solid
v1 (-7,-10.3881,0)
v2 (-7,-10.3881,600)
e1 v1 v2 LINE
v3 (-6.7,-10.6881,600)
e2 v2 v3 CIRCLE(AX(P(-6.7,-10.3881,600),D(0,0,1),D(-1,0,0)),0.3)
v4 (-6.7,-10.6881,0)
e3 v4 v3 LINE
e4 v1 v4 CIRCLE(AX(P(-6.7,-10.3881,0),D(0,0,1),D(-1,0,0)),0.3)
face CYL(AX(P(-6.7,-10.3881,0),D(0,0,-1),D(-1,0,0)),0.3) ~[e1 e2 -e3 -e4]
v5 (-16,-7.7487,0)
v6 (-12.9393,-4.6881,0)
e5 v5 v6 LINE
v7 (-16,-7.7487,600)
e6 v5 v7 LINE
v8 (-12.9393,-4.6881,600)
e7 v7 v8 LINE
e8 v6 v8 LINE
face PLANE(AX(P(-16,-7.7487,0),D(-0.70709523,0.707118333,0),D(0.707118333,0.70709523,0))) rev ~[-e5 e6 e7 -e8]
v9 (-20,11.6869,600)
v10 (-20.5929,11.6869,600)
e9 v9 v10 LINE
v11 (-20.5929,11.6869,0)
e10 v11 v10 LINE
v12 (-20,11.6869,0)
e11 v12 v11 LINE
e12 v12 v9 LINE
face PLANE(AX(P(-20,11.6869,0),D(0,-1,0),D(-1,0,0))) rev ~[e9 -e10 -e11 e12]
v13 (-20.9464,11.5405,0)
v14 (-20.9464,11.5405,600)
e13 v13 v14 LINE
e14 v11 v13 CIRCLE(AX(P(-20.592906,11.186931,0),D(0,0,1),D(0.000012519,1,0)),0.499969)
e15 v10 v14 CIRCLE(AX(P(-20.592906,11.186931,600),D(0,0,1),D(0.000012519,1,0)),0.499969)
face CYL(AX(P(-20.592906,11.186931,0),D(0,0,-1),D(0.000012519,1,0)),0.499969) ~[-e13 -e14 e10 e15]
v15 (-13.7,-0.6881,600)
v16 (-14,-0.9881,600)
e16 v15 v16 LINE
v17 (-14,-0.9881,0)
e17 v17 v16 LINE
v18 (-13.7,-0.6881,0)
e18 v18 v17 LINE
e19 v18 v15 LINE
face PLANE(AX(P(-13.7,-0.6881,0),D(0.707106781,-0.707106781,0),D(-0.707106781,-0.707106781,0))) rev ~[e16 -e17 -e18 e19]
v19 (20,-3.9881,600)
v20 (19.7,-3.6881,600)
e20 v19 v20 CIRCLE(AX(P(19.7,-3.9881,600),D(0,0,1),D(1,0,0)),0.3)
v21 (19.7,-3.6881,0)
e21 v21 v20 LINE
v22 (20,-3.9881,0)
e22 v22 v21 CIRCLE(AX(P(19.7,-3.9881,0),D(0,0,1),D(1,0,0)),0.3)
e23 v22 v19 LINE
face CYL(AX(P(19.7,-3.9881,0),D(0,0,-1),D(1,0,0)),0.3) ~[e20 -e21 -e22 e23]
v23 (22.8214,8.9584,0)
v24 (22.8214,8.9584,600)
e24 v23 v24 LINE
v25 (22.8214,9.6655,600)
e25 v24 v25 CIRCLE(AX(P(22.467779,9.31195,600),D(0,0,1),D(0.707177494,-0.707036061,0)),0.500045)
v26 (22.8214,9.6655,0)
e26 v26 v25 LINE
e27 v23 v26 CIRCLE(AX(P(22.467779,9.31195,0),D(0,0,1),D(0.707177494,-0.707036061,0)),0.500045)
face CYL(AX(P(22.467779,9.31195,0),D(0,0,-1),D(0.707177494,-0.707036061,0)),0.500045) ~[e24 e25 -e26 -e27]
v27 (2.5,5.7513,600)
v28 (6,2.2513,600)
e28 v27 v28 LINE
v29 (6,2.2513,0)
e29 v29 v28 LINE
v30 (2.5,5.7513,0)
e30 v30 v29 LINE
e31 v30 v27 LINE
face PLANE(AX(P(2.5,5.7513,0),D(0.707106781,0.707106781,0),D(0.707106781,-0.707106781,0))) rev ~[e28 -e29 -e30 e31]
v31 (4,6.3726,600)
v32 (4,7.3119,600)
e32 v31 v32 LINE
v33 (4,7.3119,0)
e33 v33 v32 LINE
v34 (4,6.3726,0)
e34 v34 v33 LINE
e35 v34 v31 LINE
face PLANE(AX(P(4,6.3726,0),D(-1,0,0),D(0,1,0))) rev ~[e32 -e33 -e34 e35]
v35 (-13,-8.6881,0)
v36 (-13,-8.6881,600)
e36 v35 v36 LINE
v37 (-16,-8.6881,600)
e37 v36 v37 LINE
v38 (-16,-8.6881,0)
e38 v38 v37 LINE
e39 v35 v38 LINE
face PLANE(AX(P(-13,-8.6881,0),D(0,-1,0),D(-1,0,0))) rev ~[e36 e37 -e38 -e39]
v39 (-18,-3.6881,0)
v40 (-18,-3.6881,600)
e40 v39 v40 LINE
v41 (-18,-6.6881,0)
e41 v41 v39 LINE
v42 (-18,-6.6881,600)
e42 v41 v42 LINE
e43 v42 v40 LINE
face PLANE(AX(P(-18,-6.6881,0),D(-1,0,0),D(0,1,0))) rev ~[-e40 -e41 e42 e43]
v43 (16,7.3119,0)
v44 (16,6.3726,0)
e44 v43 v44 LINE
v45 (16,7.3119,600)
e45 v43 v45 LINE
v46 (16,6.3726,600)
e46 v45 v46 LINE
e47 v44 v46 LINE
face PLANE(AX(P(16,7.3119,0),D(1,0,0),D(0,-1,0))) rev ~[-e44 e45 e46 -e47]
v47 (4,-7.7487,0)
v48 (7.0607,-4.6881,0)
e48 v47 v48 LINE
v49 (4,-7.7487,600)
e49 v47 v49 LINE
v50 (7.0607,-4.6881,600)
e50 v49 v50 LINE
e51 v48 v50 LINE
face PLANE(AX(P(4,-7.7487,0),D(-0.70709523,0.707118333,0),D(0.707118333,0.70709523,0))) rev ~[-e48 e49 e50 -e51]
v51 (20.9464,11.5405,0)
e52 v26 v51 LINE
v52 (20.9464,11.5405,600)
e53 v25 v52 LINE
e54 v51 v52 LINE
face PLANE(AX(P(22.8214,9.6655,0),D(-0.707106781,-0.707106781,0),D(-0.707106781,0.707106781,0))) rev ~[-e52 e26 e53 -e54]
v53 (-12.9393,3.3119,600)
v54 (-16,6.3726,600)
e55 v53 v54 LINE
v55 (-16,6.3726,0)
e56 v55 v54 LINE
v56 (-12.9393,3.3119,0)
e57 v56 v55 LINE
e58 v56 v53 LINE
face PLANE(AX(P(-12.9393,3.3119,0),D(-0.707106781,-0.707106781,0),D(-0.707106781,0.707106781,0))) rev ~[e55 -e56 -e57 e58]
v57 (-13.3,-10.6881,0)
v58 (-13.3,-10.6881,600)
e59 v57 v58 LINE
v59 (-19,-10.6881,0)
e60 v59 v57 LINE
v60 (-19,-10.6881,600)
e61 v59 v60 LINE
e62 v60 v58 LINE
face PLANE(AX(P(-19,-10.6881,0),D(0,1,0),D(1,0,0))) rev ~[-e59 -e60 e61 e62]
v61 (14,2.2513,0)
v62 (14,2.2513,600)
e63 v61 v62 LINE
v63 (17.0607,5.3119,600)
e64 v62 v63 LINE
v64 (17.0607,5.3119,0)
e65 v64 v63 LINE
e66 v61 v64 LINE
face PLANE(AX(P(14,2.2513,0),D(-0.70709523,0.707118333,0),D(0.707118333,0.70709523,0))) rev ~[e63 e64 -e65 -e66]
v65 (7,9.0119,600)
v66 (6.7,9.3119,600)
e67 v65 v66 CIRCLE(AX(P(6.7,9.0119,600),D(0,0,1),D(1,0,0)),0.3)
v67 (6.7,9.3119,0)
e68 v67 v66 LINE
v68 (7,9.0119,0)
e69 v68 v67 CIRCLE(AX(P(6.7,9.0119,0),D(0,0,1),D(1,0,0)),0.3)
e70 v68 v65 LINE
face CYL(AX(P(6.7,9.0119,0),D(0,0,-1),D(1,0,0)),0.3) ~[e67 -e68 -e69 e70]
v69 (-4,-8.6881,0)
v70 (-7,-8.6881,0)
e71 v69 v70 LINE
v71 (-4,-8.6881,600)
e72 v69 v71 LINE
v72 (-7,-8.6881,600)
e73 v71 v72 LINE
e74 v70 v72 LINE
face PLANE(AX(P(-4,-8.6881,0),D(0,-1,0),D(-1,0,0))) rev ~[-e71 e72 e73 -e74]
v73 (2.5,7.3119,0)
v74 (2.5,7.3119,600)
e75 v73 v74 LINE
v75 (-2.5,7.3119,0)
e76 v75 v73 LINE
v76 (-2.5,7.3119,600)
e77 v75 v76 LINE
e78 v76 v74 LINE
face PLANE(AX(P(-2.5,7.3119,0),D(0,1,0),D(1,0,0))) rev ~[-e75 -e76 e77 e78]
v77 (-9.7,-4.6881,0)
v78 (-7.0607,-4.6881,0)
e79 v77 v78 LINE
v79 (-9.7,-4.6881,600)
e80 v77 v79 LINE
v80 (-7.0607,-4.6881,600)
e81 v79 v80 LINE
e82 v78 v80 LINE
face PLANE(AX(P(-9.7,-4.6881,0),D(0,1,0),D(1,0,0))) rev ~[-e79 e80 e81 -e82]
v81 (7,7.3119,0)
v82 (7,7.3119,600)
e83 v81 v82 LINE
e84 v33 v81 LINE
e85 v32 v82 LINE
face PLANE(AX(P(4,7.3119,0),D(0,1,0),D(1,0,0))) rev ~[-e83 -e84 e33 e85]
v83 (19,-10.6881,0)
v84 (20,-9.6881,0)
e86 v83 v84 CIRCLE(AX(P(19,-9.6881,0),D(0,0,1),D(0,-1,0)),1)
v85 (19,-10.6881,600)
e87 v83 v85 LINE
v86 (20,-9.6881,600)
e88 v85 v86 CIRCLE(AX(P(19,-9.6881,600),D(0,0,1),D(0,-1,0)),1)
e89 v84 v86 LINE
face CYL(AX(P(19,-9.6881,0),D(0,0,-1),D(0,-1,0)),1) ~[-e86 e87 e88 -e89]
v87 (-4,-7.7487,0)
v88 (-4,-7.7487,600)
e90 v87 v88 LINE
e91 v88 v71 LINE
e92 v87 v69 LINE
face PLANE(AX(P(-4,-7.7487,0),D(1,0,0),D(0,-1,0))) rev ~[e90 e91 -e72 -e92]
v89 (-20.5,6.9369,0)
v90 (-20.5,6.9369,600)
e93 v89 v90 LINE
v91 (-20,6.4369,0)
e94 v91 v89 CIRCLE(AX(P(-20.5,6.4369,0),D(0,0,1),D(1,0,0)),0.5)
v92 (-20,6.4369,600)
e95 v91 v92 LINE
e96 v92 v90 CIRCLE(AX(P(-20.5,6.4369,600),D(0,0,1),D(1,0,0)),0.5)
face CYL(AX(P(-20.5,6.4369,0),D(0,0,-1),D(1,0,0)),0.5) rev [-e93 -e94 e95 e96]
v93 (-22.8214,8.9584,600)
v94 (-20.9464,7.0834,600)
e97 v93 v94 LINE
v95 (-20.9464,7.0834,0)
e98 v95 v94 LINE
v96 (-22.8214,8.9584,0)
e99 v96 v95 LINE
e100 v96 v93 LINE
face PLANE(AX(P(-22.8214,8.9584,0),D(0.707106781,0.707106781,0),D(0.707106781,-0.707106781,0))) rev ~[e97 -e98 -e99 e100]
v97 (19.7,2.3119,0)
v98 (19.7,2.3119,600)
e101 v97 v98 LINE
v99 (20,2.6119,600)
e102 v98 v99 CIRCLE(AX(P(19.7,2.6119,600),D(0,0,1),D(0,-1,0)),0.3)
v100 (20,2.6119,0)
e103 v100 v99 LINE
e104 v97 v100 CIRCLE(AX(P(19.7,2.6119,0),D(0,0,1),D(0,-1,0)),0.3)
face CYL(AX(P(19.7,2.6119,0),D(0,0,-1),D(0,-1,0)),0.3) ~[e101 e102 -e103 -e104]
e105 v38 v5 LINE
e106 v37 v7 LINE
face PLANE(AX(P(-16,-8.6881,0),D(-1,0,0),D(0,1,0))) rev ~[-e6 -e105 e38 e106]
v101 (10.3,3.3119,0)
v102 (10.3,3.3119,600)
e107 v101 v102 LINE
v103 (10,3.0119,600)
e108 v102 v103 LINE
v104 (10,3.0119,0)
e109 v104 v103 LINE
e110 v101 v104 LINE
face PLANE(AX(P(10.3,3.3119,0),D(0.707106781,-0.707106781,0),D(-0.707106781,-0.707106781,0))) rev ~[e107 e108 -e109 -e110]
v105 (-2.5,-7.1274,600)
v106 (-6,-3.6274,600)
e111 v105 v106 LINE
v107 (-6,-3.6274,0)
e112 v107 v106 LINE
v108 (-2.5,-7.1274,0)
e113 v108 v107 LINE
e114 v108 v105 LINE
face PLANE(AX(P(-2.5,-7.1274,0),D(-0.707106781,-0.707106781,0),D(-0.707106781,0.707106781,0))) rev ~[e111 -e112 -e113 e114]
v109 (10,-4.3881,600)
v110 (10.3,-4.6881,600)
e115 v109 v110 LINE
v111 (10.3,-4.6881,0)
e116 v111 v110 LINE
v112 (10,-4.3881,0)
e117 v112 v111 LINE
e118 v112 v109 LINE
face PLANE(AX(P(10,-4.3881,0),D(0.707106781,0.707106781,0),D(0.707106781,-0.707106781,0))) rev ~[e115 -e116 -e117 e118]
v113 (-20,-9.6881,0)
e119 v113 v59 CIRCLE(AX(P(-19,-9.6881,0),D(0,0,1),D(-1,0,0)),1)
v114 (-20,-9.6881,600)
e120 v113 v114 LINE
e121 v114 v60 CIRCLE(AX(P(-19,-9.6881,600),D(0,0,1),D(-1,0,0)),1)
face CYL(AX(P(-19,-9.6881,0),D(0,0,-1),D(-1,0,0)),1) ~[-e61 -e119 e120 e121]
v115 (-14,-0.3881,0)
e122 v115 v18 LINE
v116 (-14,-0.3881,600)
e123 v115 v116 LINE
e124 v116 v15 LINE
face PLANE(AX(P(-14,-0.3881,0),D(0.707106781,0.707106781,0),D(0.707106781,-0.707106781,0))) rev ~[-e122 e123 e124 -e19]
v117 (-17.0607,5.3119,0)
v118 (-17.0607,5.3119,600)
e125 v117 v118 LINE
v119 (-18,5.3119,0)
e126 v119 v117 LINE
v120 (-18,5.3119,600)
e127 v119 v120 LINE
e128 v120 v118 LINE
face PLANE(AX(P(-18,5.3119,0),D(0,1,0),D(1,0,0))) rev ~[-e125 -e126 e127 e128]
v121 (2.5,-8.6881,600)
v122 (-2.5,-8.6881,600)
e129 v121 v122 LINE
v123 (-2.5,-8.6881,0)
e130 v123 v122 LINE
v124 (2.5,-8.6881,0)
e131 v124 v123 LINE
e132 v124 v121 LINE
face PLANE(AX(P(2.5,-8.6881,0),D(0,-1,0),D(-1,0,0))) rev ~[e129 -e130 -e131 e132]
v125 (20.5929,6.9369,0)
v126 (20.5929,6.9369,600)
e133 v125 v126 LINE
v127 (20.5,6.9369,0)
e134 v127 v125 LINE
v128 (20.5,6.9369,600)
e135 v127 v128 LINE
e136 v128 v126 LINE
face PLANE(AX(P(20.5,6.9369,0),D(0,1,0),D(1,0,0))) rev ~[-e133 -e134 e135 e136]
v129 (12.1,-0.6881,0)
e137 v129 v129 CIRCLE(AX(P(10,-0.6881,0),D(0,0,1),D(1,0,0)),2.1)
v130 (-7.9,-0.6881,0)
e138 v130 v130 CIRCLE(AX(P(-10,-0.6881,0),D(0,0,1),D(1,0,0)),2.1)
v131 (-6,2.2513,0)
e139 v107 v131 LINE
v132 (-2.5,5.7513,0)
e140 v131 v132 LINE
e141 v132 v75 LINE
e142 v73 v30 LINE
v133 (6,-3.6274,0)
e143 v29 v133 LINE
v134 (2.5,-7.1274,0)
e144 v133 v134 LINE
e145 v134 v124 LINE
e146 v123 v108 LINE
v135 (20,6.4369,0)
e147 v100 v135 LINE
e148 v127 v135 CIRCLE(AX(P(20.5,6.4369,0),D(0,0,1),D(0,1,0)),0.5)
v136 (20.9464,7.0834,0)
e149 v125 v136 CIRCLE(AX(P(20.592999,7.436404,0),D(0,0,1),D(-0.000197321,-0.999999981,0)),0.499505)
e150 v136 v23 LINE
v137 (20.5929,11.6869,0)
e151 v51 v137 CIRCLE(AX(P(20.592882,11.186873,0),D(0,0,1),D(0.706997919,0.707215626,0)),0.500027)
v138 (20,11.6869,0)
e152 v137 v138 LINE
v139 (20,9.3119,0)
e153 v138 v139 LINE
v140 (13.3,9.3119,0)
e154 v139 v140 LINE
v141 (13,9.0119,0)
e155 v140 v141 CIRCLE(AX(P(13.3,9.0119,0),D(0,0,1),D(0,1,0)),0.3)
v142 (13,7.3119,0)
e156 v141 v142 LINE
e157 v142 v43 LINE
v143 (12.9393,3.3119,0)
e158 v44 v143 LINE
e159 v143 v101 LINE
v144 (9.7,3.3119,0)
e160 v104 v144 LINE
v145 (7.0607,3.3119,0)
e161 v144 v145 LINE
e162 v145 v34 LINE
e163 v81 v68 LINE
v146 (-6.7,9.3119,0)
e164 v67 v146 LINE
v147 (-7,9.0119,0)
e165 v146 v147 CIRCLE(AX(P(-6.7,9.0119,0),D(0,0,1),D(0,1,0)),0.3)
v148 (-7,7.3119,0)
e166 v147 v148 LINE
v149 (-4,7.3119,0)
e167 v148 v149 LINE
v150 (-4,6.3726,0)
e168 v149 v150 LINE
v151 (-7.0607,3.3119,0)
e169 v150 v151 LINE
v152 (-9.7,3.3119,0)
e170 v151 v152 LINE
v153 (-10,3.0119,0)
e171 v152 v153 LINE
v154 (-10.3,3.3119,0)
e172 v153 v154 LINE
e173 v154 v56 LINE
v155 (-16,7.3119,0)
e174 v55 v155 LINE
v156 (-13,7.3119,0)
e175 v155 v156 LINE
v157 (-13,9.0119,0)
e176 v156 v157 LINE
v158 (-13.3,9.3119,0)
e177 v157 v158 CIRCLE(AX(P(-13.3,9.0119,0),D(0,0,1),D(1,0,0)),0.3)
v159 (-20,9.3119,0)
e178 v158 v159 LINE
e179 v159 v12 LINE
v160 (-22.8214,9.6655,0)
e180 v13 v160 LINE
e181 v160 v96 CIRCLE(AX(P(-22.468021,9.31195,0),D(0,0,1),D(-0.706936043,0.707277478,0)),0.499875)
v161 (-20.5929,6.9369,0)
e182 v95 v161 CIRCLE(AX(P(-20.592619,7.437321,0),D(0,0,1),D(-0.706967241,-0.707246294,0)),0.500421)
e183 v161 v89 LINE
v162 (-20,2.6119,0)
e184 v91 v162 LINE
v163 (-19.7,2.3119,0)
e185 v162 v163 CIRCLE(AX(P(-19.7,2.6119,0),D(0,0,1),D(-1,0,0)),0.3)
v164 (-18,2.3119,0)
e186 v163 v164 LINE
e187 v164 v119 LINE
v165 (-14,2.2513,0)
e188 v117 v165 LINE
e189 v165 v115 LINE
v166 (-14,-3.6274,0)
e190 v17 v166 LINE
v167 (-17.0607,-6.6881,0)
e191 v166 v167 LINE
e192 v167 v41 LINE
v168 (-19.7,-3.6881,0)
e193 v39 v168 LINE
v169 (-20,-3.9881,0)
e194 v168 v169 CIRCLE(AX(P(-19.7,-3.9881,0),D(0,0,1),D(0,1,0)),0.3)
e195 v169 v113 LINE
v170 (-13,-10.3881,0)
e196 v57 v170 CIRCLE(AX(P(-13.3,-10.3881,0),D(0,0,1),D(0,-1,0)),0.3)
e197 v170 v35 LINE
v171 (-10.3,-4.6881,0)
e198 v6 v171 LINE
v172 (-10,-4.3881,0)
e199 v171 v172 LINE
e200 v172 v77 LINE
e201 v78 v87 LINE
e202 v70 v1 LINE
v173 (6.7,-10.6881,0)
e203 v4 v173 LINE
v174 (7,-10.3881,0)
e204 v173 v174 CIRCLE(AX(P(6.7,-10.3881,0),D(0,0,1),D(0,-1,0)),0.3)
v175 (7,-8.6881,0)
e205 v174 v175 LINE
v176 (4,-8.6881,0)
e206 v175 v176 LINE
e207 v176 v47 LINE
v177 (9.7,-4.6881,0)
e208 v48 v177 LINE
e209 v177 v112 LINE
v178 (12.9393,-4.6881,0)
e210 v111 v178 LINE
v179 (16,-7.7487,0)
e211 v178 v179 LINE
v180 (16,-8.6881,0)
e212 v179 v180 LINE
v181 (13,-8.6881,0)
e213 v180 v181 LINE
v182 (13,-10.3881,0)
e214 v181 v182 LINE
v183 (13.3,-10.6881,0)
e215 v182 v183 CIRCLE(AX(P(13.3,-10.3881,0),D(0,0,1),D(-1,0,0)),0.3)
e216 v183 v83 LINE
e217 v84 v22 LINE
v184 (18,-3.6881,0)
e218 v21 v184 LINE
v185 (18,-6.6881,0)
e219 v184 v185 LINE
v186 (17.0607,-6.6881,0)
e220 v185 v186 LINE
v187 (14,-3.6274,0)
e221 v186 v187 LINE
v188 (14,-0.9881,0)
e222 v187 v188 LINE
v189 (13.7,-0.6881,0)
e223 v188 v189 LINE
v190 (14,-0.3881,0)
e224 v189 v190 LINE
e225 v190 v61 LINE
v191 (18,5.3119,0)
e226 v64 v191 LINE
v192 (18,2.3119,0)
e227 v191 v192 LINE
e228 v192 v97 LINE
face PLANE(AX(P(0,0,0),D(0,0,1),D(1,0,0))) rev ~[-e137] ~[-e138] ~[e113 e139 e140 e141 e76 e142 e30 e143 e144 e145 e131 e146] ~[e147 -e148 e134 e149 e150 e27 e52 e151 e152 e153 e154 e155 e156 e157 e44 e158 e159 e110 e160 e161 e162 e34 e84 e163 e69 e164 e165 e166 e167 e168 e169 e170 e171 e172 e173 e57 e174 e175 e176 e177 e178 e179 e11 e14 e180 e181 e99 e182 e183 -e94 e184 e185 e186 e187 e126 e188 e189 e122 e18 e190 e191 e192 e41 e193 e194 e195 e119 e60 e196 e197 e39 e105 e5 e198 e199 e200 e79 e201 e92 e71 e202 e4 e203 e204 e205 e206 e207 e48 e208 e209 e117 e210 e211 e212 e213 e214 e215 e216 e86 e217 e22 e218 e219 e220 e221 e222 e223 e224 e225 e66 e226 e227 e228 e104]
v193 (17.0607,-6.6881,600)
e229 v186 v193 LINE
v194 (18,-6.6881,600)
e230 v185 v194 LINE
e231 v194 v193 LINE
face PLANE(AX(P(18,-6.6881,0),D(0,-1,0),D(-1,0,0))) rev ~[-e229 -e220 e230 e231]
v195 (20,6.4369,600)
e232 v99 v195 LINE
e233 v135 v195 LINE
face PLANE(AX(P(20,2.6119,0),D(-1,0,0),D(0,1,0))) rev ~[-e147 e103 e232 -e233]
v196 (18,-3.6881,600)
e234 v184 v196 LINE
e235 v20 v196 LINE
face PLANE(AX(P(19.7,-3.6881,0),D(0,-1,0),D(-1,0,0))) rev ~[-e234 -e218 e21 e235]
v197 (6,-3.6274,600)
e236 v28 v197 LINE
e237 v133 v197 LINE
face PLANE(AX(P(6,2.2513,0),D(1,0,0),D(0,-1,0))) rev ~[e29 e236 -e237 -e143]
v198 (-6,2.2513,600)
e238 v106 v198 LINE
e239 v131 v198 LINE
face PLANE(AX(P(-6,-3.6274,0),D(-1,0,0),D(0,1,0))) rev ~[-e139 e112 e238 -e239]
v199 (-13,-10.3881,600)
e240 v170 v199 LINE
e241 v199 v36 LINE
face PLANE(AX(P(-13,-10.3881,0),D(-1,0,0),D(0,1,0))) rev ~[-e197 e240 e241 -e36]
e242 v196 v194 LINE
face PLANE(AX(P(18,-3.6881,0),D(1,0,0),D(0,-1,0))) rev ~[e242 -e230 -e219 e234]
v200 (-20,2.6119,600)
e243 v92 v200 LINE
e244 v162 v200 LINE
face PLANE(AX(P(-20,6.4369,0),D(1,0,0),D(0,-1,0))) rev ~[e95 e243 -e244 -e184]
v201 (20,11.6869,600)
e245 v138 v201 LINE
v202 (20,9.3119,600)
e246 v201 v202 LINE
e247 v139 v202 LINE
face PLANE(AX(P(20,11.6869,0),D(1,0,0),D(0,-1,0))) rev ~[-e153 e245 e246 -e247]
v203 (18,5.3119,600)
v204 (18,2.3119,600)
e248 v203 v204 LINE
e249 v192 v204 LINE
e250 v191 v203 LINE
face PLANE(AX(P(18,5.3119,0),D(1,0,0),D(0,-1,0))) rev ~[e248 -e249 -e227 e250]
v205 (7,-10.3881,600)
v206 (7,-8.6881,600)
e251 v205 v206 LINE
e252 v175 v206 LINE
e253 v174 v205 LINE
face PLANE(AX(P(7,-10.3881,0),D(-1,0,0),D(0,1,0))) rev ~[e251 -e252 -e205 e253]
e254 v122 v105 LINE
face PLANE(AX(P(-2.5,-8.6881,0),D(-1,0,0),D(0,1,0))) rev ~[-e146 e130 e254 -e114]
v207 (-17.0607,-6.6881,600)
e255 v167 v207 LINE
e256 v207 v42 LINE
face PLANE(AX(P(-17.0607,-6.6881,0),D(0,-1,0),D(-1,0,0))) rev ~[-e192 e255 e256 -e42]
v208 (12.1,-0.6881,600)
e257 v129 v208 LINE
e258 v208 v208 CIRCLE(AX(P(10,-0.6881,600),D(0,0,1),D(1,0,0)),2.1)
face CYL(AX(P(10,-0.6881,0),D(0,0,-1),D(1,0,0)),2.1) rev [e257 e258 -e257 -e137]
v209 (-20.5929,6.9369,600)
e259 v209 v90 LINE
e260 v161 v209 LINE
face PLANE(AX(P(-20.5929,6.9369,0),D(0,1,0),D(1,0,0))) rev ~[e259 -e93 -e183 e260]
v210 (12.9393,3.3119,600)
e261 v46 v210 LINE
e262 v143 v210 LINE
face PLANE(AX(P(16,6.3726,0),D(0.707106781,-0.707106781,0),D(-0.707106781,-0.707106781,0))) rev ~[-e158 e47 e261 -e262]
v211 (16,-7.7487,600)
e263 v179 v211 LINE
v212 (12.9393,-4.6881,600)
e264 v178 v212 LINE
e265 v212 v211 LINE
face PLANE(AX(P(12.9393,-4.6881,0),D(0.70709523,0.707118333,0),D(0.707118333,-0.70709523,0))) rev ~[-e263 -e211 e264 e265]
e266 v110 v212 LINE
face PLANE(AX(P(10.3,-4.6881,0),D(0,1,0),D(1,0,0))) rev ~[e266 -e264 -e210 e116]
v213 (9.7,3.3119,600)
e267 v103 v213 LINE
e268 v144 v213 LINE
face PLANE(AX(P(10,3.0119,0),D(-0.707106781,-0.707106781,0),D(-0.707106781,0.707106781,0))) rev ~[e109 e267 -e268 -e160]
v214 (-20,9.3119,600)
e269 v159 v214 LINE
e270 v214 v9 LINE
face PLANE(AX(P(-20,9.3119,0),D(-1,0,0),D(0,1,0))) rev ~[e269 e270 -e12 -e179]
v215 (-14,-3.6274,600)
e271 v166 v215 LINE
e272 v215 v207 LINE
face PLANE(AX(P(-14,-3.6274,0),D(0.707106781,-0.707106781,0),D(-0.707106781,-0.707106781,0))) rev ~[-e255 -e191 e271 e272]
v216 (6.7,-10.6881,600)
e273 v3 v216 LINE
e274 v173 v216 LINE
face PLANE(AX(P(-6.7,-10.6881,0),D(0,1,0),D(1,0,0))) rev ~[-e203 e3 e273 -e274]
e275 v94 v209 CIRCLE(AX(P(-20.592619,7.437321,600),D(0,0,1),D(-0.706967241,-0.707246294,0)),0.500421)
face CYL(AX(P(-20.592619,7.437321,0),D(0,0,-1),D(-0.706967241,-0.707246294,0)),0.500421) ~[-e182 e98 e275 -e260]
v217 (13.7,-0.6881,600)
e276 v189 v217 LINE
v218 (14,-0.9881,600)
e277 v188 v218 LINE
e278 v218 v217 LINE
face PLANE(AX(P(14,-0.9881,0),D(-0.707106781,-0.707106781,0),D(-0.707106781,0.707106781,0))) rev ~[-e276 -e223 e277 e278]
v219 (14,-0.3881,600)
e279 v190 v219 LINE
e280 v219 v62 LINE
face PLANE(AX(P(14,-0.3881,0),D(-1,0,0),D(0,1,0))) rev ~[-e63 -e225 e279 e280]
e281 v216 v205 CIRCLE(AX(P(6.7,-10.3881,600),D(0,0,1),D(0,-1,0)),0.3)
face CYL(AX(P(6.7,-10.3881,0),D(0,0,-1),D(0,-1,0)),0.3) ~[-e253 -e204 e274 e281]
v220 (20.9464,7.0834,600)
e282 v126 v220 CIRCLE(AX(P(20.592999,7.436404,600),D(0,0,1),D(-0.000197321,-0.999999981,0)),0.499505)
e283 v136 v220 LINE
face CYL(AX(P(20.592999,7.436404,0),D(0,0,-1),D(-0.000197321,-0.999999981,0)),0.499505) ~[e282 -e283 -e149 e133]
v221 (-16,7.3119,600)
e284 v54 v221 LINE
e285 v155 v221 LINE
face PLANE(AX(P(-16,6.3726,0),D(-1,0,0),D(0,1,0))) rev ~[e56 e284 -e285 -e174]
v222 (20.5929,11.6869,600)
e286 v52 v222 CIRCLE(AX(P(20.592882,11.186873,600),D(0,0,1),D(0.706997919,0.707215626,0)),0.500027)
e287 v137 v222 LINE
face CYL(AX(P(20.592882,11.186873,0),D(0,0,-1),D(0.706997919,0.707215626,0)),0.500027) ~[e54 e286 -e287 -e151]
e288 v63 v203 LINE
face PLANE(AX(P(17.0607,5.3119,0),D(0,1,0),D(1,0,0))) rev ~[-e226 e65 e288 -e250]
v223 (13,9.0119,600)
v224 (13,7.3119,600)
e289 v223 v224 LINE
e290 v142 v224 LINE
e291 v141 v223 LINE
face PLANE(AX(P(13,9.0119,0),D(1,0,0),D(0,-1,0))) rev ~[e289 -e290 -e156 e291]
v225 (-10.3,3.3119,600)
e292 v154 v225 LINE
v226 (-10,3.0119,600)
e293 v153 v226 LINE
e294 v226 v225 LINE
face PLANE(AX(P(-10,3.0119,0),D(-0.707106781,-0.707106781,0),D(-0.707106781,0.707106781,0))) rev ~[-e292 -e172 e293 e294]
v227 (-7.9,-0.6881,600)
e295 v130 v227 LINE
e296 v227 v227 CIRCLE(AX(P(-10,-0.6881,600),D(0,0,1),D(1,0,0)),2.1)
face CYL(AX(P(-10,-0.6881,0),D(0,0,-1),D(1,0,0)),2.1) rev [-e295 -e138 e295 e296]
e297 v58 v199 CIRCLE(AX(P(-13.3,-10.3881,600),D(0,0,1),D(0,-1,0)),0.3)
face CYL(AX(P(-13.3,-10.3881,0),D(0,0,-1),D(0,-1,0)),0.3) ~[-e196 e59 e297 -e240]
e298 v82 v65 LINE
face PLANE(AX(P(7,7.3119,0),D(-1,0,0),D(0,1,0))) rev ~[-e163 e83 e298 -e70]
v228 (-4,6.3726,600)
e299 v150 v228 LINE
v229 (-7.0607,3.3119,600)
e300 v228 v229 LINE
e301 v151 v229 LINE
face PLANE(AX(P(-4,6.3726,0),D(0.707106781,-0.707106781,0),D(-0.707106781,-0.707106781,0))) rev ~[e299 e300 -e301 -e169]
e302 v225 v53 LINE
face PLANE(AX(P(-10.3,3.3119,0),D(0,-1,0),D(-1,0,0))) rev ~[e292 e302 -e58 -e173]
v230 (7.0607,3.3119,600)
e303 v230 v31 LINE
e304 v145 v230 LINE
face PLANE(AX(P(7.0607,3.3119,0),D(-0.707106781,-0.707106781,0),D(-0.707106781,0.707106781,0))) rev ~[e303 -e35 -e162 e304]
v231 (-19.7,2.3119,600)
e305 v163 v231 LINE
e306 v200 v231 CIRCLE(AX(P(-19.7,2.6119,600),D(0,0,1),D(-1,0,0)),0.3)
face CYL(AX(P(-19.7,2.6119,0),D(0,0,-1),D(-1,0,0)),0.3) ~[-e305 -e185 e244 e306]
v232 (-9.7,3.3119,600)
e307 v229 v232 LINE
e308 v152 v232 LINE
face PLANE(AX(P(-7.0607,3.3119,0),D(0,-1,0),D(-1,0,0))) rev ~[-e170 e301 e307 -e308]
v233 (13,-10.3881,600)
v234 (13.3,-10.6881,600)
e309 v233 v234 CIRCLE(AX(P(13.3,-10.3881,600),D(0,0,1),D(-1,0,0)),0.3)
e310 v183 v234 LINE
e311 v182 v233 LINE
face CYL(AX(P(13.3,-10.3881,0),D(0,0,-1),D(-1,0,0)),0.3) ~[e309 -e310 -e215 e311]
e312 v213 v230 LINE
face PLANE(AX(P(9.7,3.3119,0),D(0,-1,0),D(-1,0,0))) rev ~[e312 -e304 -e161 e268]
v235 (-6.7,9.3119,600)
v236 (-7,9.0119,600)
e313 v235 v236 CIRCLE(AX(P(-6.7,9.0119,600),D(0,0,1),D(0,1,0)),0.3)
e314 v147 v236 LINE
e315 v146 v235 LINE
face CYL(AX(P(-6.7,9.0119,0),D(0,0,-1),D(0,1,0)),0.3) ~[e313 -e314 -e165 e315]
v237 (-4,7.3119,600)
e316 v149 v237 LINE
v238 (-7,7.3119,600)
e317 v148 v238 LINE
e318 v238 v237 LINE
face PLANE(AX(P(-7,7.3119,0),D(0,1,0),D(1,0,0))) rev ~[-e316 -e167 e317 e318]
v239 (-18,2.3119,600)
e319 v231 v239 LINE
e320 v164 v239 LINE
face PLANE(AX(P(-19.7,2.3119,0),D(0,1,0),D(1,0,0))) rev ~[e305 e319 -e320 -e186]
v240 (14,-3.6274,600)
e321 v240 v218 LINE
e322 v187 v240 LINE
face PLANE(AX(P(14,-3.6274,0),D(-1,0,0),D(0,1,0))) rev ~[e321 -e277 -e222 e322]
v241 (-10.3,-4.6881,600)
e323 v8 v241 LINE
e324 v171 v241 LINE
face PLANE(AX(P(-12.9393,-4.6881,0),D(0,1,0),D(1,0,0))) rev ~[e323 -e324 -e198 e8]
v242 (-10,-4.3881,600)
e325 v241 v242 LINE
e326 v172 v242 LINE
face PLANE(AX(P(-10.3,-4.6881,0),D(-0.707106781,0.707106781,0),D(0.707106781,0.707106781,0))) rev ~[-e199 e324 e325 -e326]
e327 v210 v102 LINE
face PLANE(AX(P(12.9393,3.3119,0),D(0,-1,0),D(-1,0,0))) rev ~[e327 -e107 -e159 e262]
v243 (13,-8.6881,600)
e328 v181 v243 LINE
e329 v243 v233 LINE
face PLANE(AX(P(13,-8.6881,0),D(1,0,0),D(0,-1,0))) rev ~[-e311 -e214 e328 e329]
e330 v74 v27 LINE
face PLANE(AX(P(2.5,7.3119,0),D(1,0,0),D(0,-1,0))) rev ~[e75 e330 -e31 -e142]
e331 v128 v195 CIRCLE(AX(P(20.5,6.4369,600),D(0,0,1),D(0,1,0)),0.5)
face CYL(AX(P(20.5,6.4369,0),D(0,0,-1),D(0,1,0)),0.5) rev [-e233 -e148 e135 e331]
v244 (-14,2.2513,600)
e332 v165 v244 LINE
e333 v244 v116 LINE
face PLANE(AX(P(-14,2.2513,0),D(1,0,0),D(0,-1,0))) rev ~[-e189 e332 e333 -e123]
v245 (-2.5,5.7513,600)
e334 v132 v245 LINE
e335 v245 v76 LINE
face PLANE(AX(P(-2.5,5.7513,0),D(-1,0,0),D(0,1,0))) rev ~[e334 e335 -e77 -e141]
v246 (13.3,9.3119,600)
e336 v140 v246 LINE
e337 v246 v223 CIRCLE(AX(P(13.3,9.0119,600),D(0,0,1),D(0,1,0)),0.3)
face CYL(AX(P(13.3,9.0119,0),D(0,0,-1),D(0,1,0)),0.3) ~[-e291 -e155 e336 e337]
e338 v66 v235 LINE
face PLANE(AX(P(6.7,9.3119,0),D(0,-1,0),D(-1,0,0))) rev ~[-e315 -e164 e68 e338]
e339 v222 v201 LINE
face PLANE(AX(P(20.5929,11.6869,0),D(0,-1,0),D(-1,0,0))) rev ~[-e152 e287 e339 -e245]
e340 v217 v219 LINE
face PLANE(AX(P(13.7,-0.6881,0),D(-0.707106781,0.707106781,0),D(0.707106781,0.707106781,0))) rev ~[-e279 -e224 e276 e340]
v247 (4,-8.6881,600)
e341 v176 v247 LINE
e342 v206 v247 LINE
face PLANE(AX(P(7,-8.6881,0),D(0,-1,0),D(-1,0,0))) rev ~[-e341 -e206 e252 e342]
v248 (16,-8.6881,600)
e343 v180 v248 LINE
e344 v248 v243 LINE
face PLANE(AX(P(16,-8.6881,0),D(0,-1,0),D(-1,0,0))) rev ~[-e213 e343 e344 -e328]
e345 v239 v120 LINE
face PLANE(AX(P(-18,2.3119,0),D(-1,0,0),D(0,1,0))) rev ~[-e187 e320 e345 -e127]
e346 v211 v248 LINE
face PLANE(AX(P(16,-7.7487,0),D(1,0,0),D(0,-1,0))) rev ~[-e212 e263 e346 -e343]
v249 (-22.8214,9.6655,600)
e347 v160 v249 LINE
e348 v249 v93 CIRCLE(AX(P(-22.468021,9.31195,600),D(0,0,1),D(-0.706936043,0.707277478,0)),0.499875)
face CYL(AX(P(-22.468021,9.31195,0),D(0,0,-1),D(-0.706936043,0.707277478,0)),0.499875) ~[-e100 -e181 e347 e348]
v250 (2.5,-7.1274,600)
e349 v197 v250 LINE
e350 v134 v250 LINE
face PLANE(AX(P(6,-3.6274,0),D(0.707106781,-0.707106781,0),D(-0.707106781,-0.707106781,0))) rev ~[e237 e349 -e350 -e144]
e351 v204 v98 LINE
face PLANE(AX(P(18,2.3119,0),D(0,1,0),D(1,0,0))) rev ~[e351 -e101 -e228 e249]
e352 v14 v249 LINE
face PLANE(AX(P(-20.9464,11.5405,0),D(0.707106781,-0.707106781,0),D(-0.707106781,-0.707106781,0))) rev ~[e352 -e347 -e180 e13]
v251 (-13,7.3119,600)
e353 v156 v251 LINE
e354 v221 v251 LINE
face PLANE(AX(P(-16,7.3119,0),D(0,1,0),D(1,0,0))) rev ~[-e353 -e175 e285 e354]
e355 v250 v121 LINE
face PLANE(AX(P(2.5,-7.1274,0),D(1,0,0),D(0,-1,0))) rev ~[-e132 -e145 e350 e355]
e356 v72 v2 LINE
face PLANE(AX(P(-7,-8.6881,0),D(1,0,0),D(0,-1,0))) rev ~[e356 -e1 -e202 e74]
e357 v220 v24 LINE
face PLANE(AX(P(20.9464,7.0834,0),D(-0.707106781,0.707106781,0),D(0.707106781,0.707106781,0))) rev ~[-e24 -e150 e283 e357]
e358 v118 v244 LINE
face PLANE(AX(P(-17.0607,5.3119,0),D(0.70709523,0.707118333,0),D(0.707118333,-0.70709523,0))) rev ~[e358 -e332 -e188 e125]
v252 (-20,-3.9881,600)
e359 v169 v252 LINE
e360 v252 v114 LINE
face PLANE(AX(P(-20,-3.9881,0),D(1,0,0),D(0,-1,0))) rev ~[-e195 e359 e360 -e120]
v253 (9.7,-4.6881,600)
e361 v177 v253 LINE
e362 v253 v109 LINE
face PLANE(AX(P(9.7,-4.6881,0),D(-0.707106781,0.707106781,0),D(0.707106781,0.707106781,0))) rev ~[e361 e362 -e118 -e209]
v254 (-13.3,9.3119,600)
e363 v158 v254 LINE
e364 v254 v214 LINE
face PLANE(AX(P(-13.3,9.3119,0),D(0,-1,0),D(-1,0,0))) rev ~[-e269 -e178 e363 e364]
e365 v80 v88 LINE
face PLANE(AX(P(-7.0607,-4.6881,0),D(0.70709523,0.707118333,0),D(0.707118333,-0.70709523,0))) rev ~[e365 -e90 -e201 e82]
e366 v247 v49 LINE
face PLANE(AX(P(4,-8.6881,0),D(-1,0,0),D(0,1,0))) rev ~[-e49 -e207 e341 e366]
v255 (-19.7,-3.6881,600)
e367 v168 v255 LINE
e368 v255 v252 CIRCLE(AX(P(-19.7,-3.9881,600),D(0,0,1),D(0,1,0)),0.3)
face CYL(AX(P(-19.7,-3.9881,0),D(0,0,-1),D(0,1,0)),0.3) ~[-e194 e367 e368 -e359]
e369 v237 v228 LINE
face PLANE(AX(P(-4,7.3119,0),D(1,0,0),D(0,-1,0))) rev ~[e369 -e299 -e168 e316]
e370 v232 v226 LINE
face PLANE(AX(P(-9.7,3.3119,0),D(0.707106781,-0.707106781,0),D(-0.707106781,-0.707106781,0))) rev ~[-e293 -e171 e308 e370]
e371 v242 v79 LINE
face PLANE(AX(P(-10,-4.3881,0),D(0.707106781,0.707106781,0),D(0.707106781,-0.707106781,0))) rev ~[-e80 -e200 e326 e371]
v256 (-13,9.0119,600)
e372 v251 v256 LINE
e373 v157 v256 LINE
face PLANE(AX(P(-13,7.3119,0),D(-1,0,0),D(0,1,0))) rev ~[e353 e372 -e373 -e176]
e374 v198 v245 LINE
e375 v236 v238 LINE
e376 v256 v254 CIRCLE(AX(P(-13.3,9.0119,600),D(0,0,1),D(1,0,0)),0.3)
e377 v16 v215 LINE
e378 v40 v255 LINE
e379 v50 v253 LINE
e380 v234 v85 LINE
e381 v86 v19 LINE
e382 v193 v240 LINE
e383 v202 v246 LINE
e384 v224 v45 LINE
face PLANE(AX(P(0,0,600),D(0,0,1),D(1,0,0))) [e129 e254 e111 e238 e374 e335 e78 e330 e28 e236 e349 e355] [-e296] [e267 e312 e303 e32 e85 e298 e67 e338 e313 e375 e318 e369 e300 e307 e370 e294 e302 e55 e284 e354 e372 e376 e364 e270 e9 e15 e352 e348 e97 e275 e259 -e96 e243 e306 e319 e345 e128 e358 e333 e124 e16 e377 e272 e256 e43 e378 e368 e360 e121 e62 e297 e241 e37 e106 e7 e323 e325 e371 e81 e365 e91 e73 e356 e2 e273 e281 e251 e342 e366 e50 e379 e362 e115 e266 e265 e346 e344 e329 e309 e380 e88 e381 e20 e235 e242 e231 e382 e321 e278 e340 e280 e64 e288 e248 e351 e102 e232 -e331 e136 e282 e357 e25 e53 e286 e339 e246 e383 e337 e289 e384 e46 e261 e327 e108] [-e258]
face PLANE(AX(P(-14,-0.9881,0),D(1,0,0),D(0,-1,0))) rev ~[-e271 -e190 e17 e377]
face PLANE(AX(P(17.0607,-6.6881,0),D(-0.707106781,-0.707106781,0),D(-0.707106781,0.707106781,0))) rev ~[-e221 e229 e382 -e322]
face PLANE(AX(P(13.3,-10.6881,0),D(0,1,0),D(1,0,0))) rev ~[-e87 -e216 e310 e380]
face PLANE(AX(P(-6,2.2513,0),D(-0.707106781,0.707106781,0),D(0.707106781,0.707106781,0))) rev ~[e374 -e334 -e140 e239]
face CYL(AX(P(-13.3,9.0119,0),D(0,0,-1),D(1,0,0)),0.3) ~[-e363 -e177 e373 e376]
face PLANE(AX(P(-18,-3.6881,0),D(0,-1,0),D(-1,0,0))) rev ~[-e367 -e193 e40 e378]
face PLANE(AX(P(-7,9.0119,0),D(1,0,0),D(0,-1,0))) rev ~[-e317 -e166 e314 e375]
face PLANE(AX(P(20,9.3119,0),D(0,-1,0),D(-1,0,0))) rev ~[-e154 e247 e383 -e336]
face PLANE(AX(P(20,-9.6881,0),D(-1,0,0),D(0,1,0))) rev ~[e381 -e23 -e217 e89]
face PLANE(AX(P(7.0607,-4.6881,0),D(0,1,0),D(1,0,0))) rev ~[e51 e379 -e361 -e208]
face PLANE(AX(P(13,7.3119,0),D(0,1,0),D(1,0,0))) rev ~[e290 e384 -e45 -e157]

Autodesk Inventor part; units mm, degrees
ref_plane "YZ Plane" through (0, 0, 0) normal (1, 0, 0) x (0, 1, 0)
ref_plane "XZ Plane" through (0, 0, 0) normal (0, 1, 0) x (-1, 0, 0)
ref_plane "XY Plane" through (0, 0, 0) normal (0, 0, 1) x (1, 0, 0)
sketch "Sketch1" plane through (0, 0, 0) normal (0, 0, 1) x (1, 0, 0)
  line L0 (-2.5, 7.3119) -> (2.5, 7.3119) projected
  line L1 (2.5, 7.3119) -> (2.5, 5.7513) projected
  line L2 (2.5, 5.7513) -> (6, 2.2513) projected
  line L3 (6, 2.2513) -> (6, -3.6274) projected
  line L4 (6, -3.6274) -> (2.5, -7.1274) projected
  line L5 (2.5, -7.1274) -> (2.5, -8.6881) projected
  line L6 (2.5, -8.6881) -> (-2.5, -8.6881) projected
  line L7 (-2.5, -8.6881) -> (-2.5, -7.1274) projected
  line L8 (-2.5, -7.1274) -> (-6, -3.6274) projected
  line L9 (-6, -3.6274) -> (-6, 2.2513) projected
  line L10 (-6, 2.2513) -> (-2.5, 5.7513) projected
  line L11 (-2.5, 5.7513) -> (-2.5, 7.3119) projected
  circle A0 centre (10, -0.6881) radius 2.1 projected
  circle A1 centre (-10, -0.6881) radius 2.1 projected
  line L12 (-4, 6.3726) -> (-7.0607, 3.3119) projected
  line L13 (-7.0607, 3.3119) -> (-9.7, 3.3119) projected
  line L14 (-9.7, 3.3119) -> (-10, 3.0119) projected
  line L15 (-10, 3.0119) -> (-10.3, 3.3119) projected
  line L16 (-10.3, 3.3119) -> (-12.9393, 3.3119) projected
  line L17 (-12.9393, 3.3119) -> (-16, 6.3726) projected
  line L18 (-16, 6.3726) -> (-16, 7.3119) projected
  line L19 (-16, 7.3119) -> (-13, 7.3119) projected
  line L20 (-13, 7.3119) -> (-13, 9.0119) projected
  arc A2 (-13, 9.0119) -> (-13.3, 9.3119) centre (-13.3, 9.0119) ccw projected
  line L21 (-13.3, 9.3119) -> (-20, 9.3119) projected
  line L22 (-20, 9.3119) -> (-20, 11.6869) projected
  line L23 (-20, 11.6869) -> (-20.5929, 11.6869) projected
  arc A3 (-20.5929, 11.6869) -> (-20.9464, 11.5405) centre (-20.5929, 11.1869) ccw projected
  line L24 (-20.9464, 11.5405) -> (-22.8214, 9.6655) projected
  arc A4 (-22.8214, 9.6655) -> (-22.8214, 8.9584) centre (-22.4679, 9.3119) ccw projected
  line L25 (-22.8214, 8.9584) -> (-20.9464, 7.0834) projected
  arc A5 (-20.9464, 7.0834) -> (-20.5929, 6.9369) centre (-20.5929, 7.4369) ccw projected
  line L26 (-20.5929, 6.9369) -> (-20.5, 6.9369) projected
  arc A6 (-20, 6.4369) -> (-20.5, 6.9369) centre (-20.5, 6.4369) ccw projected
  line L27 (-20, 6.4369) -> (-20, 2.6119) projected
  arc A7 (-20, 2.6119) -> (-19.7, 2.3119) centre (-19.7, 2.6119) ccw projected
  line L28 (-19.7, 2.3119) -> (-18, 2.3119) projected
  line L29 (-18, 2.3119) -> (-18, 5.3119) projected
  line L30 (-18, 5.3119) -> (-17.0607, 5.3119) projected
  line L31 (-17.0607, 5.3119) -> (-14, 2.2513) projected
  line L32 (-14, 2.2513) -> (-14, -0.3881) projected
  line L33 (-14, -0.3881) -> (-13.7, -0.6881) projected
  line L34 (-13.7, -0.6881) -> (-14, -0.9881) projected
  line L35 (-14, -0.9881) -> (-14, -3.6274) projected
  line L36 (-14, -3.6274) -> (-17.0607, -6.6881) projected
  line L37 (-17.0607, -6.6881) -> (-18, -6.6881) projected
  line L38 (-18, -6.6881) -> (-18, -3.6881) projected
  line L39 (-18, -3.6881) -> (-19.7, -3.6881) projected
  arc A8 (-19.7, -3.6881) -> (-20, -3.9881) centre (-19.7, -3.9881) ccw projected
  line L40 (-20, -3.9881) -> (-20, -9.6881) projected
  arc A9 (-20, -9.6881) -> (-19, -10.6881) centre (-19, -9.6881) ccw projected
  line L41 (-19, -10.6881) -> (-13.3, -10.6881) projected
  arc A10 (-13.3, -10.6881) -> (-13, -10.3881) centre (-13.3, -10.3881) ccw projected
  line L42 (-13, -10.3881) -> (-13, -8.6881) projected
  line L43 (-13, -8.6881) -> (-16, -8.6881) projected
  line L44 (-16, -8.6881) -> (-16, -7.7487) projected
  line L45 (-16, -7.7487) -> (-12.9393, -4.6881) projected
  line L46 (-12.9393, -4.6881) -> (-10.3, -4.6881) projected
  line L47 (-10.3, -4.6881) -> (-10, -4.3881) projected
  line L48 (-10, -4.3881) -> (-9.7, -4.6881) projected
  line L49 (-9.7, -4.6881) -> (-7.0607, -4.6881) projected
  line L50 (-7.0607, -4.6881) -> (-4, -7.7487) projected
  line L51 (-4, -7.7487) -> (-4, -8.6881) projected
  line L52 (-4, -8.6881) -> (-7, -8.6881) projected
  line L53 (-7, -8.6881) -> (-7, -10.3881) projected
  arc A11 (-7, -10.3881) -> (-6.7, -10.6881) centre (-6.7, -10.3881) ccw projected
  line L54 (-6.7, -10.6881) -> (6.7, -10.6881) projected
  arc A12 (6.7, -10.6881) -> (7, -10.3881) centre (6.7, -10.3881) ccw projected
  line L55 (7, -10.3881) -> (7, -8.6881) projected
  line L56 (7, -8.6881) -> (4, -8.6881) projected
  line L57 (4, -8.6881) -> (4, -7.7487) projected
  line L58 (4, -7.7487) -> (7.0607, -4.6881) projected
  line L59 (7.0607, -4.6881) -> (9.7, -4.6881) projected
  line L60 (9.7, -4.6881) -> (10, -4.3881) projected
  line L61 (10, -4.3881) -> (10.3, -4.6881) projected
  line L62 (10.3, -4.6881) -> (12.9393, -4.6881) projected
  line L63 (12.9393, -4.6881) -> (16, -7.7487) projected
  line L64 (16, -7.7487) -> (16, -8.6881) projected
  line L65 (16, -8.6881) -> (13, -8.6881) projected
  line L66 (13, -8.6881) -> (13, -10.3881) projected
  arc A13 (13, -10.3881) -> (13.3, -10.6881) centre (13.3, -10.3881) ccw projected
  line L67 (13.3, -10.6881) -> (19, -10.6881) projected
  arc A14 (19, -10.6881) -> (20, -9.6881) centre (19, -9.6881) ccw projected
  line L68 (20, -9.6881) -> (20, -3.9881) projected
  arc A15 (20, -3.9881) -> (19.7, -3.6881) centre (19.7, -3.9881) ccw projected
  line L69 (19.7, -3.6881) -> (18, -3.6881) projected
  line L70 (18, -3.6881) -> (18, -6.6881) projected
  line L71 (18, -6.6881) -> (17.0607, -6.6881) projected
  line L72 (17.0607, -6.6881) -> (14, -3.6274) projected
  line L73 (14, -3.6274) -> (14, -0.9881) projected
  line L74 (14, -0.9881) -> (13.7, -0.6881) projected
  line L75 (13.7, -0.6881) -> (14, -0.3881) projected
  line L76 (14, -0.3881) -> (14, 2.2513) projected
  line L77 (14, 2.2513) -> (17.0607, 5.3119) projected
  line L78 (17.0607, 5.3119) -> (18, 5.3119) projected
  line L79 (18, 5.3119) -> (18, 2.3119) projected
  line L80 (18, 2.3119) -> (19.7, 2.3119) projected
  arc A16 (19.7, 2.3119) -> (20, 2.6119) centre (19.7, 2.6119) ccw projected
  line L81 (20, 2.6119) -> (20, 6.4369) projected
  arc A17 (20.5, 6.9369) -> (20, 6.4369) centre (20.5, 6.4369) ccw projected
  line L82 (20.5, 6.9369) -> (20.5929, 6.9369) projected
  arc A18 (20.5929, 6.9369) -> (20.9464, 7.0834) centre (20.5929, 7.4369) ccw projected
  line L83 (20.9464, 7.0834) -> (22.8214, 8.9584) projected
  arc A19 (22.8214, 8.9584) -> (22.8214, 9.6655) centre (22.4679, 9.3119) ccw projected
  line L84 (22.8214, 9.6655) -> (20.9464, 11.5405) projected
  arc A20 (20.9464, 11.5405) -> (20.5929, 11.6869) centre (20.5929, 11.1869) ccw projected
  line L85 (20.5929, 11.6869) -> (20, 11.6869) projected
  line L86 (20, 11.6869) -> (20, 9.3119) projected
  line L87 (20, 9.3119) -> (13.3, 9.3119) projected
  arc A21 (13.3, 9.3119) -> (13, 9.0119) centre (13.3, 9.0119) ccw projected
  line L88 (13, 9.0119) -> (13, 7.3119) projected
  line L89 (13, 7.3119) -> (16, 7.3119) projected
  line L90 (16, 7.3119) -> (16, 6.3726) projected
  line L91 (16, 6.3726) -> (12.9393, 3.3119) projected
  line L92 (12.9393, 3.3119) -> (10.3, 3.3119) projected
  line L93 (10.3, 3.3119) -> (10, 3.0119) projected
  line L94 (10, 3.0119) -> (9.7, 3.3119) projected
  line L95 (9.7, 3.3119) -> (7.0607, 3.3119) projected
  line L96 (7.0607, 3.3119) -> (4, 6.3726) projected
  line L97 (4, 6.3726) -> (4, 7.3119) projected
  line L98 (4, 7.3119) -> (7, 7.3119) projected
  line L99 (7, 7.3119) -> (7, 9.0119) projected
  arc A22 (7, 9.0119) -> (6.7, 9.3119) centre (6.7, 9.0119) ccw projected
  line L100 (6.7, 9.3119) -> (-6.7, 9.3119) projected
  arc A23 (-6.7, 9.3119) -> (-7, 9.0119) centre (-6.7, 9.0119) ccw projected
  line L101 (-7, 9.0119) -> (-7, 7.3119) projected
  line L102 (-7, 7.3119) -> (-4, 7.3119) projected
  line L103 (-4, 7.3119) -> (-4, 6.3726) projected
  point P0 (0, 0)
extrude "Extrusion1" add sketch "Sketch1" along normal blind 600
properties part number "Makerslide 600mm"
